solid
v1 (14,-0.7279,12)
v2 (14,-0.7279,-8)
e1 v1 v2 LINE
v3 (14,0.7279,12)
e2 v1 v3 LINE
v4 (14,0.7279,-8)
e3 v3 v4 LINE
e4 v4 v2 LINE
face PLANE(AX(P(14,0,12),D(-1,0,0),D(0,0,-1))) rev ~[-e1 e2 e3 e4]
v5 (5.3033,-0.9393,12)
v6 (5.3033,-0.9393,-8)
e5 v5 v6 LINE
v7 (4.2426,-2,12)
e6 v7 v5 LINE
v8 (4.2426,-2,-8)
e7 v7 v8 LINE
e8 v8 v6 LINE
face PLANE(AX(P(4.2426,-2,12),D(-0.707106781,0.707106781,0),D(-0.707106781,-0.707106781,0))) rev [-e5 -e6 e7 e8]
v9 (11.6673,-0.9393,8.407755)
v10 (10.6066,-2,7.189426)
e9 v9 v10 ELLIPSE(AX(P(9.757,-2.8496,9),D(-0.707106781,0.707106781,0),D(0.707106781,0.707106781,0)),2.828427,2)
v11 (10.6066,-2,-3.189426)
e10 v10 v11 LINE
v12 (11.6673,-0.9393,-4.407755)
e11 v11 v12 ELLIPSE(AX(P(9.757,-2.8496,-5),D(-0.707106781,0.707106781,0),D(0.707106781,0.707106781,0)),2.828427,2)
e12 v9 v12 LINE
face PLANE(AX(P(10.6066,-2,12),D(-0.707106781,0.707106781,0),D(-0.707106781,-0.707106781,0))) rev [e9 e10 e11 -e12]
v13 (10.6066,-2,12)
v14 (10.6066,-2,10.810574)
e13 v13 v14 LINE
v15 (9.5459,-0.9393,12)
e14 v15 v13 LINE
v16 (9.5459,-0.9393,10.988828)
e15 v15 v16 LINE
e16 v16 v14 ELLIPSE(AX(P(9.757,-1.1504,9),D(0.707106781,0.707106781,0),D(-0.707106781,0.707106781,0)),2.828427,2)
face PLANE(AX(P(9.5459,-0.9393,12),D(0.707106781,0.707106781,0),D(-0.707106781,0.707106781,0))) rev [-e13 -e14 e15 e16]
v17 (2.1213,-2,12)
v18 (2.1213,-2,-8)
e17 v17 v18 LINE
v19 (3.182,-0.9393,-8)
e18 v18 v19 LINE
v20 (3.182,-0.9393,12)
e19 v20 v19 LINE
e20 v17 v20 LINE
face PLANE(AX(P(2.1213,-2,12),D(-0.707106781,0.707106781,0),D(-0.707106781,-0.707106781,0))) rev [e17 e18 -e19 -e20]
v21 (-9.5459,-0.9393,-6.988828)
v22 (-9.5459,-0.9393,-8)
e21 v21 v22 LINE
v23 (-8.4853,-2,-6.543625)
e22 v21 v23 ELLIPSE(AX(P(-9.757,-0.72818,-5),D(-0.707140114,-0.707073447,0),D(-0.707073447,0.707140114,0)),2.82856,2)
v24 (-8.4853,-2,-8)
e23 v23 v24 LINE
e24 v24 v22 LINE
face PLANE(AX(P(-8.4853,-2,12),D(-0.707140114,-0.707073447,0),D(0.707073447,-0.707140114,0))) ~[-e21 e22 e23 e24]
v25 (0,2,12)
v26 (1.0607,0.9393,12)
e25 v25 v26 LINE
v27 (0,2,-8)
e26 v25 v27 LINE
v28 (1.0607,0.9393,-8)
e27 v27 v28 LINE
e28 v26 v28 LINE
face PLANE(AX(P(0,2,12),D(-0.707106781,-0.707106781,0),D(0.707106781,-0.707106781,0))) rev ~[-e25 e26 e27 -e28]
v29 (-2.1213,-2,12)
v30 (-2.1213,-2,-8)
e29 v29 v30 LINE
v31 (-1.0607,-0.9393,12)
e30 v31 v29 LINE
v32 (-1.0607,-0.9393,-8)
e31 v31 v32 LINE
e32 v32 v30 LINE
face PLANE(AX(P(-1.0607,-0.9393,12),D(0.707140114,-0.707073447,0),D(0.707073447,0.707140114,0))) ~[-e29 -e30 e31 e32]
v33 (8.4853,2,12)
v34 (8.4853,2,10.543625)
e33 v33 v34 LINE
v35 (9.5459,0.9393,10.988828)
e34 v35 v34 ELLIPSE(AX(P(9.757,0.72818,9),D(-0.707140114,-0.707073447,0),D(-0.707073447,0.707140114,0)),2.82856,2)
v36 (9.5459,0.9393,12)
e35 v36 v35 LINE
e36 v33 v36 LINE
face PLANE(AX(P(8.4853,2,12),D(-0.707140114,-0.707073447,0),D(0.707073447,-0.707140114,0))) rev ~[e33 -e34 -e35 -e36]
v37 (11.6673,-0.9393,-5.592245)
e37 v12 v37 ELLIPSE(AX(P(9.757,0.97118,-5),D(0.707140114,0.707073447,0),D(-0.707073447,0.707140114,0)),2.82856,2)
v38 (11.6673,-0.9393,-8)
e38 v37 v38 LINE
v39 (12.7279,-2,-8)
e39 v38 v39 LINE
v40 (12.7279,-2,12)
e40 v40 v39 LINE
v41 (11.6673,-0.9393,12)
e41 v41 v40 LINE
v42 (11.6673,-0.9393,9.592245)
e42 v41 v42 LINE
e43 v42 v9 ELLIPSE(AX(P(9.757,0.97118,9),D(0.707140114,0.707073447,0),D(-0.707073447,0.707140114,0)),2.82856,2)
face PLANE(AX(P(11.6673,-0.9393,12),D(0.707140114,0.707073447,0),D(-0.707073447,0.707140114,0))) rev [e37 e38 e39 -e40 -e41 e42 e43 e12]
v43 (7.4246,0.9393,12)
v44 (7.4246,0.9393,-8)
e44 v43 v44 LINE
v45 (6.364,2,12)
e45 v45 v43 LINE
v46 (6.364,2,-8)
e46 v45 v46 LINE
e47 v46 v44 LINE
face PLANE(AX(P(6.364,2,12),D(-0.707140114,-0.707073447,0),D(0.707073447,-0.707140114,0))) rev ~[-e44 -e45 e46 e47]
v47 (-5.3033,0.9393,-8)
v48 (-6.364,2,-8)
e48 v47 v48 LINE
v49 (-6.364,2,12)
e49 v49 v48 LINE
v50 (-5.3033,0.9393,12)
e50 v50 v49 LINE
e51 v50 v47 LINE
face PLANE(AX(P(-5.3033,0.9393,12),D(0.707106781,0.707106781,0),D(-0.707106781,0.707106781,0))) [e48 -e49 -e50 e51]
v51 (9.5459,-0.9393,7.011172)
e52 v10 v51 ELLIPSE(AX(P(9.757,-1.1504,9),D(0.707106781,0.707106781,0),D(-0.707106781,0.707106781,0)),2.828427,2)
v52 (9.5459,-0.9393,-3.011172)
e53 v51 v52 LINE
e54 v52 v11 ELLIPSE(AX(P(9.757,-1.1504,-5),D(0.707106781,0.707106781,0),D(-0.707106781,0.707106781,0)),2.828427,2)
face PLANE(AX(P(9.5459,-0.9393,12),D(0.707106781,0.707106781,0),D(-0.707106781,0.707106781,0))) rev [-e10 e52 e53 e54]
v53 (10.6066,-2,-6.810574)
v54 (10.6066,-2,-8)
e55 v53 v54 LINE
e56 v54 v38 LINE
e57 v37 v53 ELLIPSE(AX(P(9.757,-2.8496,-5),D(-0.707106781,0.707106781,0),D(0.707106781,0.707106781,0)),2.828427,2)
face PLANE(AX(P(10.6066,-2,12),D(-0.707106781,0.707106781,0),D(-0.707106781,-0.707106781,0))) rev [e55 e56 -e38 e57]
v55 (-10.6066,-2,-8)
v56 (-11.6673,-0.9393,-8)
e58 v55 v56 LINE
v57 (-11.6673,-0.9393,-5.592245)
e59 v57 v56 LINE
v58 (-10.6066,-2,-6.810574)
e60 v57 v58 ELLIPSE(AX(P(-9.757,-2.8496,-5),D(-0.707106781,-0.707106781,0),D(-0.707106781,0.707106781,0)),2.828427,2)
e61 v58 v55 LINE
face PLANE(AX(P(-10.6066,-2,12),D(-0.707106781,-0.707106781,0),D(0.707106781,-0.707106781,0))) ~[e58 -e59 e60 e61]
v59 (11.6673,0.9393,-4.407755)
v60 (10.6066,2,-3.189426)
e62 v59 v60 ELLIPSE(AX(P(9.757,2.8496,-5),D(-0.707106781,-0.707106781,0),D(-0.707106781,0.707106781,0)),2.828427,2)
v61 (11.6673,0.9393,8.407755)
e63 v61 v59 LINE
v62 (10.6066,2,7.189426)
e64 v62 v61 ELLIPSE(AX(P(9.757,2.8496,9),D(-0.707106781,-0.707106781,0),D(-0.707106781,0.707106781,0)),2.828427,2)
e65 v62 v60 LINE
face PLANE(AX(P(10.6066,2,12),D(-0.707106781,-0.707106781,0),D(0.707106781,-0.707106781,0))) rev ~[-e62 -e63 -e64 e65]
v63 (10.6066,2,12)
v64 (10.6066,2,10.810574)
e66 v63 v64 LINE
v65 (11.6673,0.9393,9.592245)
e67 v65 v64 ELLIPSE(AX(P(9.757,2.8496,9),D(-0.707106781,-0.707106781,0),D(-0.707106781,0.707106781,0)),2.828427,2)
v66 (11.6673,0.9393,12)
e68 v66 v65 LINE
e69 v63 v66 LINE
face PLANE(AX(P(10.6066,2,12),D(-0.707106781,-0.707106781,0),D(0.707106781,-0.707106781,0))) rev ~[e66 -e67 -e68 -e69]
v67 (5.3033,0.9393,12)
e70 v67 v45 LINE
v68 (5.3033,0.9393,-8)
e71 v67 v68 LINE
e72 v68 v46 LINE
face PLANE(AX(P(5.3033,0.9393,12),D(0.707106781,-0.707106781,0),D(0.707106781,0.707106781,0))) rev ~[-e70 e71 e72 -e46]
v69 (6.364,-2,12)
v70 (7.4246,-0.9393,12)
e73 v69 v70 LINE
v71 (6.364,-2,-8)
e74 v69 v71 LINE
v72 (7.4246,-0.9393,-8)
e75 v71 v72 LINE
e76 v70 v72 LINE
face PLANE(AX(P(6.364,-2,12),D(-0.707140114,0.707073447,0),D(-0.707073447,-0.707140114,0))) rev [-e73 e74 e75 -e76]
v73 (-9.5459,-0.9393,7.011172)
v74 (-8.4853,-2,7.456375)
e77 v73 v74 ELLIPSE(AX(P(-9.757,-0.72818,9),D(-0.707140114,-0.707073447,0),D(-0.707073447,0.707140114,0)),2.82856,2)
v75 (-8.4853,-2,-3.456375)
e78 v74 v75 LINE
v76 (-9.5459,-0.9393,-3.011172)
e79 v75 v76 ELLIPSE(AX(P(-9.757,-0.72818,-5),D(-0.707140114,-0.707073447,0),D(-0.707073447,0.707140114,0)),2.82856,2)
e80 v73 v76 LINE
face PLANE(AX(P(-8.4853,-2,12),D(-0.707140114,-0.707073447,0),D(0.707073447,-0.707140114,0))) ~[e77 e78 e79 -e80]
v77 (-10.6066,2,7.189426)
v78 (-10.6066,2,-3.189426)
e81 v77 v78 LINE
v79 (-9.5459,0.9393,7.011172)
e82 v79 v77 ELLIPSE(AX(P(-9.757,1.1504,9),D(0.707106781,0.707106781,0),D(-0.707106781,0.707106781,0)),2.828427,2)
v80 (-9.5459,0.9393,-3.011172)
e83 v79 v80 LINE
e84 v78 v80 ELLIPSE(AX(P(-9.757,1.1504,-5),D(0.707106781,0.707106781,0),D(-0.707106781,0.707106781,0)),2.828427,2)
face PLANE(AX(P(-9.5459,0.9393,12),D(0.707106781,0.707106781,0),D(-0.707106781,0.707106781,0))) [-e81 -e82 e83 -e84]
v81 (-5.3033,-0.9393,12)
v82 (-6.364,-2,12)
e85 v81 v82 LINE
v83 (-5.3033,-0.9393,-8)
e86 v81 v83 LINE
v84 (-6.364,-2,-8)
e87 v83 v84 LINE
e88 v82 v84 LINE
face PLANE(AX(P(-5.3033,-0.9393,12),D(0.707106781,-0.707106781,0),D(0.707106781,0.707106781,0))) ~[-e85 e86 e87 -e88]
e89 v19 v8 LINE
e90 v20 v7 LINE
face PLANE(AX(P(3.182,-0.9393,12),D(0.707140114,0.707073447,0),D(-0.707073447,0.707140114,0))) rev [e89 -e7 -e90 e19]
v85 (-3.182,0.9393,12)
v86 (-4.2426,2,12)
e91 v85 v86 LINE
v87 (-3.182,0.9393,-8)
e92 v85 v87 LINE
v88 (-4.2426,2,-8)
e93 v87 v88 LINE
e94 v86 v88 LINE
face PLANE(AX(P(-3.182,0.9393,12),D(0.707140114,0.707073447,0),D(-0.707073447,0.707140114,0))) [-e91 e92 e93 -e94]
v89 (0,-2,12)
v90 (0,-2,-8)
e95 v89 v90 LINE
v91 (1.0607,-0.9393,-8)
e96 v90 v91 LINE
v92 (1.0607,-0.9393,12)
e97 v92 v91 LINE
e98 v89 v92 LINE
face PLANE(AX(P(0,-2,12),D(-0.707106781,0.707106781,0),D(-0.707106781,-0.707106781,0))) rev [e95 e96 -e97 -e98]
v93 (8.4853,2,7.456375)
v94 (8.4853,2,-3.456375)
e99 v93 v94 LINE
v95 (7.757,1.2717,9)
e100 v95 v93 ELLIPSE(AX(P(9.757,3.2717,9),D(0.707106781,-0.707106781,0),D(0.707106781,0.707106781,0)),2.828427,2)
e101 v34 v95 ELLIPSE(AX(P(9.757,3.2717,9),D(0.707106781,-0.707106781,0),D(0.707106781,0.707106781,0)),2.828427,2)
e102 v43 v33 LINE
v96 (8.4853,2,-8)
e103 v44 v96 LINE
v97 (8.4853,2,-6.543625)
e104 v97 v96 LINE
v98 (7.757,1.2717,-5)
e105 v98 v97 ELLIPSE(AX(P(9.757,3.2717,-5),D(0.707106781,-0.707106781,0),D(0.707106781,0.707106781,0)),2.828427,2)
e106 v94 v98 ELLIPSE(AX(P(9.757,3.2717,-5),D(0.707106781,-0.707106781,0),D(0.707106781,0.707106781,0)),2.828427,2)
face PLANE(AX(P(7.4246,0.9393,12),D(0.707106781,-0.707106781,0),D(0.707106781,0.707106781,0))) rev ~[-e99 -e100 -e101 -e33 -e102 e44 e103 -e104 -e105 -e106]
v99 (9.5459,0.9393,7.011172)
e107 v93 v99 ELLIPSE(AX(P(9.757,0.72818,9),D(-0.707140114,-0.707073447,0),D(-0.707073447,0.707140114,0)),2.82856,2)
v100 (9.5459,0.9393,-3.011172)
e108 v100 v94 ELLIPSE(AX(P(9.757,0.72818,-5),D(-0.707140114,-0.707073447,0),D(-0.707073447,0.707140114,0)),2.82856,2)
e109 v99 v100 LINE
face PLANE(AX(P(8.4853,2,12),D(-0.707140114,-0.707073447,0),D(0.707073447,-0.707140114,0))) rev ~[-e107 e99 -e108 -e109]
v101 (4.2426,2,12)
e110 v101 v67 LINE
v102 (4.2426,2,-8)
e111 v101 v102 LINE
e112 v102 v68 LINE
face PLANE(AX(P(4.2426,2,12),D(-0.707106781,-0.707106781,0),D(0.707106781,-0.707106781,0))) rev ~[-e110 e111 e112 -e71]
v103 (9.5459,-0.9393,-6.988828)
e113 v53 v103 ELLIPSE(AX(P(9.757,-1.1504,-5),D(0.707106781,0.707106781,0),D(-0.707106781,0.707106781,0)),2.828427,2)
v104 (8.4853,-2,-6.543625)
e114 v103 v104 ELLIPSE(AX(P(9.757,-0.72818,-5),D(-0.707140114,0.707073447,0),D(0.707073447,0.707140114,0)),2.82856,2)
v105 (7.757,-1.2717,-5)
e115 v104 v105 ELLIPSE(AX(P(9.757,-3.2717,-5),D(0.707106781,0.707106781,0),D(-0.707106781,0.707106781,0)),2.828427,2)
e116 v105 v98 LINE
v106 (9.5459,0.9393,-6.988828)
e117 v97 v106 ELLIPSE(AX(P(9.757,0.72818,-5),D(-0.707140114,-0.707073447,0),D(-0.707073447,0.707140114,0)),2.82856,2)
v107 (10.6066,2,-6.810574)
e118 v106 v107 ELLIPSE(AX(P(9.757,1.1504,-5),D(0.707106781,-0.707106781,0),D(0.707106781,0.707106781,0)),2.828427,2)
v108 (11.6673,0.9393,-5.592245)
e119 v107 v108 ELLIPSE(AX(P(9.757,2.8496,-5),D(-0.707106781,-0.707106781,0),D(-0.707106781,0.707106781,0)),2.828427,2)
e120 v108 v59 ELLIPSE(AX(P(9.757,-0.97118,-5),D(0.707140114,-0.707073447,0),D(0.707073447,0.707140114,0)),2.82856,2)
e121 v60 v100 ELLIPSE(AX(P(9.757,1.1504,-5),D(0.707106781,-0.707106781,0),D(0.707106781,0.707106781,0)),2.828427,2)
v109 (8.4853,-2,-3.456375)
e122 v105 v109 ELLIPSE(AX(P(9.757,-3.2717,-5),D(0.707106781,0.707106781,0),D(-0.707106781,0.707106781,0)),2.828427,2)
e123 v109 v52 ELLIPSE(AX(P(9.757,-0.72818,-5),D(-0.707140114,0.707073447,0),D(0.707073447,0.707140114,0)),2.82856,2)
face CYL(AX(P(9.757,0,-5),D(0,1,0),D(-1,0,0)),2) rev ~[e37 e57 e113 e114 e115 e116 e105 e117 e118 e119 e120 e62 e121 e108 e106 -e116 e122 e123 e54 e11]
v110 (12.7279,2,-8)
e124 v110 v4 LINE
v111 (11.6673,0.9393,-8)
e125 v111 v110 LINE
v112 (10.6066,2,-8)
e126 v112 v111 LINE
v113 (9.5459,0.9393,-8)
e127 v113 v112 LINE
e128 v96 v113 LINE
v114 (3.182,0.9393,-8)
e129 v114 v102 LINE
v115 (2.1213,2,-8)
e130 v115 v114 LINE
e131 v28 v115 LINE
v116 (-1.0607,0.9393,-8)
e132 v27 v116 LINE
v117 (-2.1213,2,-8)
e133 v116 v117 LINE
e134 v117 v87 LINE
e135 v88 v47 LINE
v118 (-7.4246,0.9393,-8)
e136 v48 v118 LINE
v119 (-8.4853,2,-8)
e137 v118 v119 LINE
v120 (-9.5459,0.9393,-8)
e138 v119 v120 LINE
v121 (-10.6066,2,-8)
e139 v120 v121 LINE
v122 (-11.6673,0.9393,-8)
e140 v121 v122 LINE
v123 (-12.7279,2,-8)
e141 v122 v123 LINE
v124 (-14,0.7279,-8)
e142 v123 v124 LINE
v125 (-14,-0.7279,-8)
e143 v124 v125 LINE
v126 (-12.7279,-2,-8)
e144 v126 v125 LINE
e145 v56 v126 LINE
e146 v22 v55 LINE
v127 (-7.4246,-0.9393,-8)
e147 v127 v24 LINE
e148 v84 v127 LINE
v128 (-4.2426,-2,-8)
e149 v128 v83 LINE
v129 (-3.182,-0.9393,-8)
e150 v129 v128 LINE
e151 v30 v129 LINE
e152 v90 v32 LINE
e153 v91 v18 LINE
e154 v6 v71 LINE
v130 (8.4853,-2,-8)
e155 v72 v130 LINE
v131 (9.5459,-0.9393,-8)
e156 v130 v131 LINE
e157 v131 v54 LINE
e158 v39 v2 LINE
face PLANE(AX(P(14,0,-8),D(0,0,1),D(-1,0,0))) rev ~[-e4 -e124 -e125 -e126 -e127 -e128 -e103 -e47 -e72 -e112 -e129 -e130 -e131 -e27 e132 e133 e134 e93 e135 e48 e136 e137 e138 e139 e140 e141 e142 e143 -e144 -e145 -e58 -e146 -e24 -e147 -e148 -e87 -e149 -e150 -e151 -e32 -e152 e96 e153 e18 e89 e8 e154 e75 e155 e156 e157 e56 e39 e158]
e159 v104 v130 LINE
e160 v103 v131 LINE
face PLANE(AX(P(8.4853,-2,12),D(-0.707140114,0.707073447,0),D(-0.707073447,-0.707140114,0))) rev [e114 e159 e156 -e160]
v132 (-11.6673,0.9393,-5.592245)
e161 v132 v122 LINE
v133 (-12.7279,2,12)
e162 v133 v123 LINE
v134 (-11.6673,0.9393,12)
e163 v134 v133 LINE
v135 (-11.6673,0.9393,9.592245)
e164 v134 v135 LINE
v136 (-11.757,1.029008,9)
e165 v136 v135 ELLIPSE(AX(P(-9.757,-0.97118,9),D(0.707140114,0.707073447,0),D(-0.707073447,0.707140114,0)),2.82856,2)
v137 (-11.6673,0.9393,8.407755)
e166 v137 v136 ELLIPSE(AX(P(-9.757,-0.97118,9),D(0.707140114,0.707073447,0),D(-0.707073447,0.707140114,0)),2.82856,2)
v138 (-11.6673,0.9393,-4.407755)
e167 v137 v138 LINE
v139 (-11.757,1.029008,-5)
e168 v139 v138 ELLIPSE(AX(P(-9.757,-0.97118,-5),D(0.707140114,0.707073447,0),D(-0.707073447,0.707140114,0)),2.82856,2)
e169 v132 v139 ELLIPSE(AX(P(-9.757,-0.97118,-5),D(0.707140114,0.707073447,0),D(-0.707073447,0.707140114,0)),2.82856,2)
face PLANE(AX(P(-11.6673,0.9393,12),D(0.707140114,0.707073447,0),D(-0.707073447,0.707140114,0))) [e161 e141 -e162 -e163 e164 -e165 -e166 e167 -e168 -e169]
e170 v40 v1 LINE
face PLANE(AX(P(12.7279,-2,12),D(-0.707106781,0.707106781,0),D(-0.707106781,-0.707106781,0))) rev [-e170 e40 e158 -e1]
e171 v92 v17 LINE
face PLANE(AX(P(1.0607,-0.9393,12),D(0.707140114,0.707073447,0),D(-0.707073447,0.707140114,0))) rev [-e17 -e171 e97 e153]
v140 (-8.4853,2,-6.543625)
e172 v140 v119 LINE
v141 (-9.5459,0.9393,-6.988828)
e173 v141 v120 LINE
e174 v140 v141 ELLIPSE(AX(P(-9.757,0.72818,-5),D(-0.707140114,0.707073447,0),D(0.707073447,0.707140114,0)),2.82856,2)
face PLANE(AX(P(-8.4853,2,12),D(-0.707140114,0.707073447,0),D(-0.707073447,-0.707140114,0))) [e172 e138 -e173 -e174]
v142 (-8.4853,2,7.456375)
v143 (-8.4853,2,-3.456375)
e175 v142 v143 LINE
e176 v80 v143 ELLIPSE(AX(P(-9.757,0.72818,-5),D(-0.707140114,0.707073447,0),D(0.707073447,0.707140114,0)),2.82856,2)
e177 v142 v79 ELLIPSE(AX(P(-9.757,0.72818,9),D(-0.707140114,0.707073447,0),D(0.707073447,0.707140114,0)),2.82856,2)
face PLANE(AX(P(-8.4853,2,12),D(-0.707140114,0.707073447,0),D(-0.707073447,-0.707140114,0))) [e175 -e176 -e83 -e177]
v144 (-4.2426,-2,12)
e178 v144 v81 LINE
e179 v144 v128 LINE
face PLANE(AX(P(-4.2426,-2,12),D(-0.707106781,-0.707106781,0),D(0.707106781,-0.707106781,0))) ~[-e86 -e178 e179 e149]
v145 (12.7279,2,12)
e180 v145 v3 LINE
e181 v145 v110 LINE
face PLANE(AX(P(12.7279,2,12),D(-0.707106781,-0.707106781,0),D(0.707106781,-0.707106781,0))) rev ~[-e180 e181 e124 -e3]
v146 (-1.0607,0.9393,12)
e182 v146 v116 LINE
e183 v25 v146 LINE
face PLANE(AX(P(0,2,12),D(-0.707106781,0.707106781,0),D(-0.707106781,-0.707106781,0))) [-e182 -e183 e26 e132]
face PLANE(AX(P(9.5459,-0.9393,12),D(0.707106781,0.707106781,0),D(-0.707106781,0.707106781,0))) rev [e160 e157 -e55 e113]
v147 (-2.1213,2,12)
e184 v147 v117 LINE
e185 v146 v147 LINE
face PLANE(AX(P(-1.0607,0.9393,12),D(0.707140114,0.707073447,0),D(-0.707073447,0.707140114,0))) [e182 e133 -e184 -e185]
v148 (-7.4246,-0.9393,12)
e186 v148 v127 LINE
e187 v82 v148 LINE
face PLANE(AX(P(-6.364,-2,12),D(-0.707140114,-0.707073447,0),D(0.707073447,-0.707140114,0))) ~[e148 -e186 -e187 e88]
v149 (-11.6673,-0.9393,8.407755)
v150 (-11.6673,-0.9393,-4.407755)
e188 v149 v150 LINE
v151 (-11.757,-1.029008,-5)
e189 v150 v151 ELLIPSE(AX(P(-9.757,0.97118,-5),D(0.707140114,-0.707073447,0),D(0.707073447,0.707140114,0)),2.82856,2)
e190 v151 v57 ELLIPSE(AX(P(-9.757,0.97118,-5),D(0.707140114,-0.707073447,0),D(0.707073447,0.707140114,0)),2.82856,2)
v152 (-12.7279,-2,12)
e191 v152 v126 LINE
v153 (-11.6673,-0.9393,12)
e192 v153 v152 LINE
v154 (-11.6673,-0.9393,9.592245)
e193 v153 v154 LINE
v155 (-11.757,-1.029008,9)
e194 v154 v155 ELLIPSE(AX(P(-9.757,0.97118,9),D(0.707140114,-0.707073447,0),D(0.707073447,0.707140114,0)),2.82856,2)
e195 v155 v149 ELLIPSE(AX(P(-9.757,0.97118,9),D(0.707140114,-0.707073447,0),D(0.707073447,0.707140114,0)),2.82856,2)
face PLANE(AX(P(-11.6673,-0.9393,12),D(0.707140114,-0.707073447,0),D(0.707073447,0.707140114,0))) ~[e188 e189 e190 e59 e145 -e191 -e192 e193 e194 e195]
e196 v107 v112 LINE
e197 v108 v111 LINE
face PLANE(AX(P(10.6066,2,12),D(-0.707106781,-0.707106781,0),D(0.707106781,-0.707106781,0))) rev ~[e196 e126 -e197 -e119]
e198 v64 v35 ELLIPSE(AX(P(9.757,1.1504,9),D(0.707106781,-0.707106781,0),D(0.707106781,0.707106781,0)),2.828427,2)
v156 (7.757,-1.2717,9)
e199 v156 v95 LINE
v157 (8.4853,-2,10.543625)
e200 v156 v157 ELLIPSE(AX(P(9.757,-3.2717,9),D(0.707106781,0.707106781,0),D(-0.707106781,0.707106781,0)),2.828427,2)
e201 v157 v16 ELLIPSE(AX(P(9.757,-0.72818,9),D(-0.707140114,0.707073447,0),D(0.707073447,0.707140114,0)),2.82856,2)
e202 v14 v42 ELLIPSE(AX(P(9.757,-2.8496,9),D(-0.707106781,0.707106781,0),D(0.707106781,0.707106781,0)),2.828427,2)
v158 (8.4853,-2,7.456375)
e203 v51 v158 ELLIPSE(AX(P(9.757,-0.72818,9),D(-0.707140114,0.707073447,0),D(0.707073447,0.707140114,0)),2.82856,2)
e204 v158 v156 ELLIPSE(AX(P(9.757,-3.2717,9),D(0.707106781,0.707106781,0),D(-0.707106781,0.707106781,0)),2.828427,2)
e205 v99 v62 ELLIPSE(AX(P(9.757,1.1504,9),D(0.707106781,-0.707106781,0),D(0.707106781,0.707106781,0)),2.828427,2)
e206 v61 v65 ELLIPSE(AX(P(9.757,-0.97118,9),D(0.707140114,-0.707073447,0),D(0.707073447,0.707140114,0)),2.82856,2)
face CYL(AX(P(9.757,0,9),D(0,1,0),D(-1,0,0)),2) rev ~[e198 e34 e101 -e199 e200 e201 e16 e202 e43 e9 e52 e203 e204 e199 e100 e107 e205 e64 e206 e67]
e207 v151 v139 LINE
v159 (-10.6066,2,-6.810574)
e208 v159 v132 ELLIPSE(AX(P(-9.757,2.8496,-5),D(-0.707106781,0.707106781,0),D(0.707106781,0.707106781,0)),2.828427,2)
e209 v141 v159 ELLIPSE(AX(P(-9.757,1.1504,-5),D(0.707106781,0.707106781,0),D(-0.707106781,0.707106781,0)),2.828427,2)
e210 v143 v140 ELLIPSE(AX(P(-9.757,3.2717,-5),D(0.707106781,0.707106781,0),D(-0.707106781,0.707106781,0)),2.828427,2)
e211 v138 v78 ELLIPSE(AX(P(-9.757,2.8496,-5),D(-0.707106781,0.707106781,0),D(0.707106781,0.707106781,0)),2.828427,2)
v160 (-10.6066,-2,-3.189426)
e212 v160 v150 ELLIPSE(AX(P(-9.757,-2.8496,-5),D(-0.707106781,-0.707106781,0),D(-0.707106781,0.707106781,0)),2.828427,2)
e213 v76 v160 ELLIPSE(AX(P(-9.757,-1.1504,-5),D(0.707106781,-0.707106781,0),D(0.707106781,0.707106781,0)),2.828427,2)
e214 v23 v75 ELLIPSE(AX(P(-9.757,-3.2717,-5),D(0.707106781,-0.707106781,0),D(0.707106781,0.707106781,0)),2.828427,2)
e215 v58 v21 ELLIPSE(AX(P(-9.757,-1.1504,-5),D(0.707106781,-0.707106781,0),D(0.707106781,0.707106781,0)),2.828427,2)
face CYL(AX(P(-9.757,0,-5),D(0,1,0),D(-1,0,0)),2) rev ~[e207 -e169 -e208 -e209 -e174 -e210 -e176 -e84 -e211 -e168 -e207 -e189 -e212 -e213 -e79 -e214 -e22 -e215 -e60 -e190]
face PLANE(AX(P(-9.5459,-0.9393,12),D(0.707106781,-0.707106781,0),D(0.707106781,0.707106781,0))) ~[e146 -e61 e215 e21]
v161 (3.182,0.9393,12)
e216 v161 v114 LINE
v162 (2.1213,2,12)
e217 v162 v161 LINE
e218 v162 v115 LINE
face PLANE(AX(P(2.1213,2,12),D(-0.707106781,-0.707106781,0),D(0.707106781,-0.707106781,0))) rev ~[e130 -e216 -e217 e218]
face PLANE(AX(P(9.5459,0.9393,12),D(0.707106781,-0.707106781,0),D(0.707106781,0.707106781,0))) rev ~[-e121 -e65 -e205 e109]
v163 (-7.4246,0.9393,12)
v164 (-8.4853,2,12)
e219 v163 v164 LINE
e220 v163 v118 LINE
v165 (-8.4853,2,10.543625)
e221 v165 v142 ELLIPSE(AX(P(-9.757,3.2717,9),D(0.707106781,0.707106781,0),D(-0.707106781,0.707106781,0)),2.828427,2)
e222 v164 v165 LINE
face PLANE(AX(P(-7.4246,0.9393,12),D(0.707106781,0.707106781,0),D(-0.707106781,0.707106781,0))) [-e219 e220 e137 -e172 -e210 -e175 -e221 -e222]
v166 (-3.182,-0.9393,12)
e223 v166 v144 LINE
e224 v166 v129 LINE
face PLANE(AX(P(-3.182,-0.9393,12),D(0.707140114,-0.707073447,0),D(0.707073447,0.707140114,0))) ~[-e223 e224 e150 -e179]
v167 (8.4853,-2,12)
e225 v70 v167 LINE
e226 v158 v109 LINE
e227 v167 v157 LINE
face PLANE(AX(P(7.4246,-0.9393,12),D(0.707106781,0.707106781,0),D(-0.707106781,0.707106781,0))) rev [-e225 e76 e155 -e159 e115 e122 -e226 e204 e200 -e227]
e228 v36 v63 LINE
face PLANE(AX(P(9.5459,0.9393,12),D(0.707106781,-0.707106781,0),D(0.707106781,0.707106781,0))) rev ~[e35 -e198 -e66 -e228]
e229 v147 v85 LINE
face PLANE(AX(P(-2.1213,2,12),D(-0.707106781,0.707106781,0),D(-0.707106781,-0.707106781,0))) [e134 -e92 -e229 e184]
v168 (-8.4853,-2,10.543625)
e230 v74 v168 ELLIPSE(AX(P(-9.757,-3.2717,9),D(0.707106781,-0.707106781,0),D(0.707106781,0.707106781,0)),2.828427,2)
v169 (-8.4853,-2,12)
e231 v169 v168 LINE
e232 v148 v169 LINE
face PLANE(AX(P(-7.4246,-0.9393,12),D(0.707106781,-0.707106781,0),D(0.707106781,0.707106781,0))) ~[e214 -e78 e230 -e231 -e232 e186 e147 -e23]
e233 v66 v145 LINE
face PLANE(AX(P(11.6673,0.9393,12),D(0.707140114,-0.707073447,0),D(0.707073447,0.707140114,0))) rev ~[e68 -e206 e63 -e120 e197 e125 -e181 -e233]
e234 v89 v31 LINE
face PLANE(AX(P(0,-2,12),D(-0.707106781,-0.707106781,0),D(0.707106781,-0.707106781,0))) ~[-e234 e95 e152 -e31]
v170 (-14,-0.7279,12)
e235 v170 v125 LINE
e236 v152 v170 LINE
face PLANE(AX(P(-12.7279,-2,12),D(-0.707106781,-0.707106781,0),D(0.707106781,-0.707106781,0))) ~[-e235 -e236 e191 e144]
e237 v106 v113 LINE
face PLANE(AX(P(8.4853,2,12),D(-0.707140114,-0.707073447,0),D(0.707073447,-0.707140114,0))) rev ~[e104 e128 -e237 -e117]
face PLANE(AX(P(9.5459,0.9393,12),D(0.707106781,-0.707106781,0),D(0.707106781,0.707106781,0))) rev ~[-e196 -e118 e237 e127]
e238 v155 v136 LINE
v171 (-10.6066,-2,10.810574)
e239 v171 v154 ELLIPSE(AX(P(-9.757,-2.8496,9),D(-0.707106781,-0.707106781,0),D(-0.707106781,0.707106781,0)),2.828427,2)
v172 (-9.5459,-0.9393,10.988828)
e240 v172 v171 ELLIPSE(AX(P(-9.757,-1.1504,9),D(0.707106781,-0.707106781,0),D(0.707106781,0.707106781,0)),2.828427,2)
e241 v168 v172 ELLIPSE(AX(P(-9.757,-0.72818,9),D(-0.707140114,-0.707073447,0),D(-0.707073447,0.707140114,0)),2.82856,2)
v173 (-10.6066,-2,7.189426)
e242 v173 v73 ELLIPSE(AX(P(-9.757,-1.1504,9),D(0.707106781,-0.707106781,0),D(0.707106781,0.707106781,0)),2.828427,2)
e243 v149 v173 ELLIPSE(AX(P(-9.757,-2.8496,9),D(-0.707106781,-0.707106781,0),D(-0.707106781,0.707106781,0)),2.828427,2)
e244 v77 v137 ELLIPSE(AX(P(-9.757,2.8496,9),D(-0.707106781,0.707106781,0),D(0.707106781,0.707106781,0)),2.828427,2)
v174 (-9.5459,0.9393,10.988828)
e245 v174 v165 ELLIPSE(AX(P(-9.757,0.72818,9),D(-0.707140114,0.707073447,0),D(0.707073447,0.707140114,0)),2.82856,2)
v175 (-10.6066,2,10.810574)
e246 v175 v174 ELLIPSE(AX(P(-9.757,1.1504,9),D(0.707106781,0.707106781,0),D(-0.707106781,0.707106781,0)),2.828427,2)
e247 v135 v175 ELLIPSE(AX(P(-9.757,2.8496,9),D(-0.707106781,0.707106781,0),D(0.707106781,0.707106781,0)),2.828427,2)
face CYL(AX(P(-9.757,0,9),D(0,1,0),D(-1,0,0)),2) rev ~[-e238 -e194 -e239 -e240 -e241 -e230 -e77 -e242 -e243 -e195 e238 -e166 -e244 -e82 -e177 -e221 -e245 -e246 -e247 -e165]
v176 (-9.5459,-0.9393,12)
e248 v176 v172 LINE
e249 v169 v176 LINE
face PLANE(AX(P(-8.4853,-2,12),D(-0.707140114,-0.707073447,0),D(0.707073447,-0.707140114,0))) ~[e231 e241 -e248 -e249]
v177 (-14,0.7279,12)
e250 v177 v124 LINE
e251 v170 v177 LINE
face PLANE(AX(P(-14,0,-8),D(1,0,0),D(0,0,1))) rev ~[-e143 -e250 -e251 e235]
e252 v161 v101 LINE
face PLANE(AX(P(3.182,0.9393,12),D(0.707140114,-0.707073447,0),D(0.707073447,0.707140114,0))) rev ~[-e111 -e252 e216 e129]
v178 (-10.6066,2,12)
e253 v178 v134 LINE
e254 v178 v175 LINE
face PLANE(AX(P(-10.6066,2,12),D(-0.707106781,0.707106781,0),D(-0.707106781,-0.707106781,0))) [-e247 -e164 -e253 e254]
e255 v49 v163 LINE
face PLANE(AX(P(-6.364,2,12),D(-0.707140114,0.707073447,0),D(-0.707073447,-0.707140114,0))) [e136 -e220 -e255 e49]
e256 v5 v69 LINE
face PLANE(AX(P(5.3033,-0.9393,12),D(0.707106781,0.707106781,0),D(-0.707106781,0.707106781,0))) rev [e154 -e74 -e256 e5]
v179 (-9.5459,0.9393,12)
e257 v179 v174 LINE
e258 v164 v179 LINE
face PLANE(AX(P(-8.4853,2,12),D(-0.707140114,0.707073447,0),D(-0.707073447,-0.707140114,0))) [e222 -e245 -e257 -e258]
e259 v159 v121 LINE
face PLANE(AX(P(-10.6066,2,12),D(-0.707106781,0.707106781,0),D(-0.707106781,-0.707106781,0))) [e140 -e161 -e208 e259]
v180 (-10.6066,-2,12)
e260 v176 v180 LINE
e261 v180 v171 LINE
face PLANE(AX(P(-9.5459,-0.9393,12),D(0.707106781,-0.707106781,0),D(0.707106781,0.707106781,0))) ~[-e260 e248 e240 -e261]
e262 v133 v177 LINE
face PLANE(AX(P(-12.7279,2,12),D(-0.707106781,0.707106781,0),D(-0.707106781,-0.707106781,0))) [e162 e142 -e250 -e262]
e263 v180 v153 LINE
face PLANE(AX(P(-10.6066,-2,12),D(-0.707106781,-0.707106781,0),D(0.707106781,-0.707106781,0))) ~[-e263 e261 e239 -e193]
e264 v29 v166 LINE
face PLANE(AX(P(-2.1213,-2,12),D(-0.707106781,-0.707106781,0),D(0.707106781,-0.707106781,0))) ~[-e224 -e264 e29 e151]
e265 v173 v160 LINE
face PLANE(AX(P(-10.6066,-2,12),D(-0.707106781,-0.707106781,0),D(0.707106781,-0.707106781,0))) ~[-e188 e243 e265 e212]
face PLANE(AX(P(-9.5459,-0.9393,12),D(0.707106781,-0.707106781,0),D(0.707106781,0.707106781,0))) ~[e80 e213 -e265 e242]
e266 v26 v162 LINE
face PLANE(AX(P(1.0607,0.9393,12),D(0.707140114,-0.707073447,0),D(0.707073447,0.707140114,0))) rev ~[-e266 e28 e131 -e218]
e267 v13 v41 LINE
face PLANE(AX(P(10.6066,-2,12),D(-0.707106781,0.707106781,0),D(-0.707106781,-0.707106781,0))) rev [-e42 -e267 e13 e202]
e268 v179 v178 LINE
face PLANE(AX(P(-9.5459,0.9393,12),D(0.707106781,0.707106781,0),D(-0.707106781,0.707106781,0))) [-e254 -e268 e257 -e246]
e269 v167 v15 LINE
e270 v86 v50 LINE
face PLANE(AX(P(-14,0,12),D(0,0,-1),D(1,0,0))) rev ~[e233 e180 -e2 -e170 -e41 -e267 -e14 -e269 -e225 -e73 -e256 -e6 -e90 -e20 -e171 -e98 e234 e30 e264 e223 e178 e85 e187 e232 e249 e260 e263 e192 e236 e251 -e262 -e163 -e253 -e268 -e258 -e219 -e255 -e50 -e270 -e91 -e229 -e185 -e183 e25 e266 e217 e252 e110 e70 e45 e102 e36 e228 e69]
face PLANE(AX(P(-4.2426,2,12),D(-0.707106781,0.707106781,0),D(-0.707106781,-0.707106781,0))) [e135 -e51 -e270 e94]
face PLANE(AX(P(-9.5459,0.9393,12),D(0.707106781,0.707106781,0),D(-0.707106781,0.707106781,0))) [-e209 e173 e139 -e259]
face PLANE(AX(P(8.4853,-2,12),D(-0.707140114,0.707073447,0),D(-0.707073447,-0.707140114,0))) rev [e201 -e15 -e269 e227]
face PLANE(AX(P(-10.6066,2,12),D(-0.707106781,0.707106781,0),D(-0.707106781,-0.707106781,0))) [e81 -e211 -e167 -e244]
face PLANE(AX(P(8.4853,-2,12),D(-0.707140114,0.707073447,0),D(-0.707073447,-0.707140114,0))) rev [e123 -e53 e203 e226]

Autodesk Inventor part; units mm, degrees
ref_plane "YZ Plane" through (0, 0, 0) normal (1, 0, 0) x (0, 1, 0)
ref_plane "XZ Plane" through (0, 0, 0) normal (0, 1, 0) x (-1, 0, 0)
ref_plane "XY Plane" through (0, 0, 0) normal (0, 0, 1) x (1, 0, 0)
sketch "Sketch1" plane through (0, 0, 0) normal (0, 1, 0) x (-1, 0, 0)
  line L0 (14, 12) -> (-14, 12)
  line L1 (-14, 12) -> (-14, -8)
  line L2 (-14, -8) -> (14, -8)
  line L3 (14, -8) -> (14, 12)
  point P0 (0, 0)
  dimension "d0" = 28
  dimension "d1" = 20
  dimension "d4" = 14
extrude "Extrusion1" add sketch "Sketch1" along normal mid plane 4
sketch "Sketch2" plane through (-14, 2, 12) normal (0, 0, 1) x (1, 0, 0)
  line L0 (0, 0) -> (28, 0) projected
  line L1 (14, 0) -> (12.9393, -1.0607)
  line L2 (14, 0) -> (15.5, 0) construction
  line L3 (12.9393, -1.0607) -> (11.8787, 0)
  line L4 (11.8787, 0) -> (10.818, -1.0607)
  line L5 (10.818, -1.0607) -> (9.7574, 0)
  line L6 (9.7574, 0) -> (8.6967, -1.0607)
  line L7 (8.6967, -1.0607) -> (7.636, 0)
  line L8 (7.636, 0) -> (6.5754, -1.0607)
  line L9 (6.5754, -1.0607) -> (5.5147, 0)
  line L10 (5.5147, 0) -> (4.4541, -1.0607)
  line L11 (4.4541, -1.0607) -> (3.3934, 0)
  line L12 (3.3934, 0) -> (2.3327, -1.0607)
  line L13 (2.3327, -1.0607) -> (1.2721, 0)
  line L14 (1.2721, 0) -> (0, -1.2721)
  line L15 (0, -4) -> (0, 0) projected
  line L16 (14, 0) -> (15.0607, -1.0607)
  line L17 (15.0607, -1.0607) -> (16.1213, 0)
  line L18 (16.1213, 0) -> (17.182, -1.0607)
  line L19 (17.182, -1.0607) -> (18.2426, 0)
  line L20 (18.2426, 0) -> (19.3033, -1.0607)
  line L21 (19.3033, -1.0607) -> (20.364, 0)
  line L22 (20.364, 0) -> (21.4246, -1.0607)
  line L23 (21.4246, -1.0607) -> (22.4853, 0)
  line L24 (22.4853, 0) -> (23.5459, -1.0607)
  line L25 (23.5459, -1.0607) -> (24.6066, 0)
  line L26 (24.6066, 0) -> (25.6673, -1.0607)
  line L27 (25.6673, -1.0607) -> (26.7279, 0)
  line L28 (26.7279, 0) -> (28, -1.2721)
  line L29 (28, -4) -> (28, 0) projected
  point P0 (14, -2)
  point P1 (1.2721, 0)
  point P2 (1.2721, 0)
  point P3 (5.5147, 0)
  point P4 (5.5147, 0)
  point P5 (7.636, 0)
  point P6 (7.636, 0)
  point P7 (9.7574, 0)
  point P8 (9.7574, 0)
  dimension "d5" = 1.5
  dimension "d6" = 135
  dimension "d7" = 1.5
extrude "Extrusion2" cut sketch "Sketch2" against normal blind 50
mirror "Mirror1" about plane through (0, 0, 0) normal (0, 1, 0) of "Extrusion2"
sketch "Sketch4" plane through (0, 0, 0) normal (0, 1, 0) x (-1, 0, 0)
  circle A0 centre (9.757, -5) radius 2
  circle A1 centre (-9.757, -5) radius 2
  circle A2 centre (-9.757, 9) radius 2
  circle A3 centre (9.757, 9) radius 2
  point P0 (0, 0)
  dimension "d14" = 4
  dimension "d15" = 4
  dimension "d16" = 4
  dimension "d17" = 4
extrude "Extrusion4" cut sketch "Sketch4" against normal mid plane 6
properties part number "g2Tensioner"
